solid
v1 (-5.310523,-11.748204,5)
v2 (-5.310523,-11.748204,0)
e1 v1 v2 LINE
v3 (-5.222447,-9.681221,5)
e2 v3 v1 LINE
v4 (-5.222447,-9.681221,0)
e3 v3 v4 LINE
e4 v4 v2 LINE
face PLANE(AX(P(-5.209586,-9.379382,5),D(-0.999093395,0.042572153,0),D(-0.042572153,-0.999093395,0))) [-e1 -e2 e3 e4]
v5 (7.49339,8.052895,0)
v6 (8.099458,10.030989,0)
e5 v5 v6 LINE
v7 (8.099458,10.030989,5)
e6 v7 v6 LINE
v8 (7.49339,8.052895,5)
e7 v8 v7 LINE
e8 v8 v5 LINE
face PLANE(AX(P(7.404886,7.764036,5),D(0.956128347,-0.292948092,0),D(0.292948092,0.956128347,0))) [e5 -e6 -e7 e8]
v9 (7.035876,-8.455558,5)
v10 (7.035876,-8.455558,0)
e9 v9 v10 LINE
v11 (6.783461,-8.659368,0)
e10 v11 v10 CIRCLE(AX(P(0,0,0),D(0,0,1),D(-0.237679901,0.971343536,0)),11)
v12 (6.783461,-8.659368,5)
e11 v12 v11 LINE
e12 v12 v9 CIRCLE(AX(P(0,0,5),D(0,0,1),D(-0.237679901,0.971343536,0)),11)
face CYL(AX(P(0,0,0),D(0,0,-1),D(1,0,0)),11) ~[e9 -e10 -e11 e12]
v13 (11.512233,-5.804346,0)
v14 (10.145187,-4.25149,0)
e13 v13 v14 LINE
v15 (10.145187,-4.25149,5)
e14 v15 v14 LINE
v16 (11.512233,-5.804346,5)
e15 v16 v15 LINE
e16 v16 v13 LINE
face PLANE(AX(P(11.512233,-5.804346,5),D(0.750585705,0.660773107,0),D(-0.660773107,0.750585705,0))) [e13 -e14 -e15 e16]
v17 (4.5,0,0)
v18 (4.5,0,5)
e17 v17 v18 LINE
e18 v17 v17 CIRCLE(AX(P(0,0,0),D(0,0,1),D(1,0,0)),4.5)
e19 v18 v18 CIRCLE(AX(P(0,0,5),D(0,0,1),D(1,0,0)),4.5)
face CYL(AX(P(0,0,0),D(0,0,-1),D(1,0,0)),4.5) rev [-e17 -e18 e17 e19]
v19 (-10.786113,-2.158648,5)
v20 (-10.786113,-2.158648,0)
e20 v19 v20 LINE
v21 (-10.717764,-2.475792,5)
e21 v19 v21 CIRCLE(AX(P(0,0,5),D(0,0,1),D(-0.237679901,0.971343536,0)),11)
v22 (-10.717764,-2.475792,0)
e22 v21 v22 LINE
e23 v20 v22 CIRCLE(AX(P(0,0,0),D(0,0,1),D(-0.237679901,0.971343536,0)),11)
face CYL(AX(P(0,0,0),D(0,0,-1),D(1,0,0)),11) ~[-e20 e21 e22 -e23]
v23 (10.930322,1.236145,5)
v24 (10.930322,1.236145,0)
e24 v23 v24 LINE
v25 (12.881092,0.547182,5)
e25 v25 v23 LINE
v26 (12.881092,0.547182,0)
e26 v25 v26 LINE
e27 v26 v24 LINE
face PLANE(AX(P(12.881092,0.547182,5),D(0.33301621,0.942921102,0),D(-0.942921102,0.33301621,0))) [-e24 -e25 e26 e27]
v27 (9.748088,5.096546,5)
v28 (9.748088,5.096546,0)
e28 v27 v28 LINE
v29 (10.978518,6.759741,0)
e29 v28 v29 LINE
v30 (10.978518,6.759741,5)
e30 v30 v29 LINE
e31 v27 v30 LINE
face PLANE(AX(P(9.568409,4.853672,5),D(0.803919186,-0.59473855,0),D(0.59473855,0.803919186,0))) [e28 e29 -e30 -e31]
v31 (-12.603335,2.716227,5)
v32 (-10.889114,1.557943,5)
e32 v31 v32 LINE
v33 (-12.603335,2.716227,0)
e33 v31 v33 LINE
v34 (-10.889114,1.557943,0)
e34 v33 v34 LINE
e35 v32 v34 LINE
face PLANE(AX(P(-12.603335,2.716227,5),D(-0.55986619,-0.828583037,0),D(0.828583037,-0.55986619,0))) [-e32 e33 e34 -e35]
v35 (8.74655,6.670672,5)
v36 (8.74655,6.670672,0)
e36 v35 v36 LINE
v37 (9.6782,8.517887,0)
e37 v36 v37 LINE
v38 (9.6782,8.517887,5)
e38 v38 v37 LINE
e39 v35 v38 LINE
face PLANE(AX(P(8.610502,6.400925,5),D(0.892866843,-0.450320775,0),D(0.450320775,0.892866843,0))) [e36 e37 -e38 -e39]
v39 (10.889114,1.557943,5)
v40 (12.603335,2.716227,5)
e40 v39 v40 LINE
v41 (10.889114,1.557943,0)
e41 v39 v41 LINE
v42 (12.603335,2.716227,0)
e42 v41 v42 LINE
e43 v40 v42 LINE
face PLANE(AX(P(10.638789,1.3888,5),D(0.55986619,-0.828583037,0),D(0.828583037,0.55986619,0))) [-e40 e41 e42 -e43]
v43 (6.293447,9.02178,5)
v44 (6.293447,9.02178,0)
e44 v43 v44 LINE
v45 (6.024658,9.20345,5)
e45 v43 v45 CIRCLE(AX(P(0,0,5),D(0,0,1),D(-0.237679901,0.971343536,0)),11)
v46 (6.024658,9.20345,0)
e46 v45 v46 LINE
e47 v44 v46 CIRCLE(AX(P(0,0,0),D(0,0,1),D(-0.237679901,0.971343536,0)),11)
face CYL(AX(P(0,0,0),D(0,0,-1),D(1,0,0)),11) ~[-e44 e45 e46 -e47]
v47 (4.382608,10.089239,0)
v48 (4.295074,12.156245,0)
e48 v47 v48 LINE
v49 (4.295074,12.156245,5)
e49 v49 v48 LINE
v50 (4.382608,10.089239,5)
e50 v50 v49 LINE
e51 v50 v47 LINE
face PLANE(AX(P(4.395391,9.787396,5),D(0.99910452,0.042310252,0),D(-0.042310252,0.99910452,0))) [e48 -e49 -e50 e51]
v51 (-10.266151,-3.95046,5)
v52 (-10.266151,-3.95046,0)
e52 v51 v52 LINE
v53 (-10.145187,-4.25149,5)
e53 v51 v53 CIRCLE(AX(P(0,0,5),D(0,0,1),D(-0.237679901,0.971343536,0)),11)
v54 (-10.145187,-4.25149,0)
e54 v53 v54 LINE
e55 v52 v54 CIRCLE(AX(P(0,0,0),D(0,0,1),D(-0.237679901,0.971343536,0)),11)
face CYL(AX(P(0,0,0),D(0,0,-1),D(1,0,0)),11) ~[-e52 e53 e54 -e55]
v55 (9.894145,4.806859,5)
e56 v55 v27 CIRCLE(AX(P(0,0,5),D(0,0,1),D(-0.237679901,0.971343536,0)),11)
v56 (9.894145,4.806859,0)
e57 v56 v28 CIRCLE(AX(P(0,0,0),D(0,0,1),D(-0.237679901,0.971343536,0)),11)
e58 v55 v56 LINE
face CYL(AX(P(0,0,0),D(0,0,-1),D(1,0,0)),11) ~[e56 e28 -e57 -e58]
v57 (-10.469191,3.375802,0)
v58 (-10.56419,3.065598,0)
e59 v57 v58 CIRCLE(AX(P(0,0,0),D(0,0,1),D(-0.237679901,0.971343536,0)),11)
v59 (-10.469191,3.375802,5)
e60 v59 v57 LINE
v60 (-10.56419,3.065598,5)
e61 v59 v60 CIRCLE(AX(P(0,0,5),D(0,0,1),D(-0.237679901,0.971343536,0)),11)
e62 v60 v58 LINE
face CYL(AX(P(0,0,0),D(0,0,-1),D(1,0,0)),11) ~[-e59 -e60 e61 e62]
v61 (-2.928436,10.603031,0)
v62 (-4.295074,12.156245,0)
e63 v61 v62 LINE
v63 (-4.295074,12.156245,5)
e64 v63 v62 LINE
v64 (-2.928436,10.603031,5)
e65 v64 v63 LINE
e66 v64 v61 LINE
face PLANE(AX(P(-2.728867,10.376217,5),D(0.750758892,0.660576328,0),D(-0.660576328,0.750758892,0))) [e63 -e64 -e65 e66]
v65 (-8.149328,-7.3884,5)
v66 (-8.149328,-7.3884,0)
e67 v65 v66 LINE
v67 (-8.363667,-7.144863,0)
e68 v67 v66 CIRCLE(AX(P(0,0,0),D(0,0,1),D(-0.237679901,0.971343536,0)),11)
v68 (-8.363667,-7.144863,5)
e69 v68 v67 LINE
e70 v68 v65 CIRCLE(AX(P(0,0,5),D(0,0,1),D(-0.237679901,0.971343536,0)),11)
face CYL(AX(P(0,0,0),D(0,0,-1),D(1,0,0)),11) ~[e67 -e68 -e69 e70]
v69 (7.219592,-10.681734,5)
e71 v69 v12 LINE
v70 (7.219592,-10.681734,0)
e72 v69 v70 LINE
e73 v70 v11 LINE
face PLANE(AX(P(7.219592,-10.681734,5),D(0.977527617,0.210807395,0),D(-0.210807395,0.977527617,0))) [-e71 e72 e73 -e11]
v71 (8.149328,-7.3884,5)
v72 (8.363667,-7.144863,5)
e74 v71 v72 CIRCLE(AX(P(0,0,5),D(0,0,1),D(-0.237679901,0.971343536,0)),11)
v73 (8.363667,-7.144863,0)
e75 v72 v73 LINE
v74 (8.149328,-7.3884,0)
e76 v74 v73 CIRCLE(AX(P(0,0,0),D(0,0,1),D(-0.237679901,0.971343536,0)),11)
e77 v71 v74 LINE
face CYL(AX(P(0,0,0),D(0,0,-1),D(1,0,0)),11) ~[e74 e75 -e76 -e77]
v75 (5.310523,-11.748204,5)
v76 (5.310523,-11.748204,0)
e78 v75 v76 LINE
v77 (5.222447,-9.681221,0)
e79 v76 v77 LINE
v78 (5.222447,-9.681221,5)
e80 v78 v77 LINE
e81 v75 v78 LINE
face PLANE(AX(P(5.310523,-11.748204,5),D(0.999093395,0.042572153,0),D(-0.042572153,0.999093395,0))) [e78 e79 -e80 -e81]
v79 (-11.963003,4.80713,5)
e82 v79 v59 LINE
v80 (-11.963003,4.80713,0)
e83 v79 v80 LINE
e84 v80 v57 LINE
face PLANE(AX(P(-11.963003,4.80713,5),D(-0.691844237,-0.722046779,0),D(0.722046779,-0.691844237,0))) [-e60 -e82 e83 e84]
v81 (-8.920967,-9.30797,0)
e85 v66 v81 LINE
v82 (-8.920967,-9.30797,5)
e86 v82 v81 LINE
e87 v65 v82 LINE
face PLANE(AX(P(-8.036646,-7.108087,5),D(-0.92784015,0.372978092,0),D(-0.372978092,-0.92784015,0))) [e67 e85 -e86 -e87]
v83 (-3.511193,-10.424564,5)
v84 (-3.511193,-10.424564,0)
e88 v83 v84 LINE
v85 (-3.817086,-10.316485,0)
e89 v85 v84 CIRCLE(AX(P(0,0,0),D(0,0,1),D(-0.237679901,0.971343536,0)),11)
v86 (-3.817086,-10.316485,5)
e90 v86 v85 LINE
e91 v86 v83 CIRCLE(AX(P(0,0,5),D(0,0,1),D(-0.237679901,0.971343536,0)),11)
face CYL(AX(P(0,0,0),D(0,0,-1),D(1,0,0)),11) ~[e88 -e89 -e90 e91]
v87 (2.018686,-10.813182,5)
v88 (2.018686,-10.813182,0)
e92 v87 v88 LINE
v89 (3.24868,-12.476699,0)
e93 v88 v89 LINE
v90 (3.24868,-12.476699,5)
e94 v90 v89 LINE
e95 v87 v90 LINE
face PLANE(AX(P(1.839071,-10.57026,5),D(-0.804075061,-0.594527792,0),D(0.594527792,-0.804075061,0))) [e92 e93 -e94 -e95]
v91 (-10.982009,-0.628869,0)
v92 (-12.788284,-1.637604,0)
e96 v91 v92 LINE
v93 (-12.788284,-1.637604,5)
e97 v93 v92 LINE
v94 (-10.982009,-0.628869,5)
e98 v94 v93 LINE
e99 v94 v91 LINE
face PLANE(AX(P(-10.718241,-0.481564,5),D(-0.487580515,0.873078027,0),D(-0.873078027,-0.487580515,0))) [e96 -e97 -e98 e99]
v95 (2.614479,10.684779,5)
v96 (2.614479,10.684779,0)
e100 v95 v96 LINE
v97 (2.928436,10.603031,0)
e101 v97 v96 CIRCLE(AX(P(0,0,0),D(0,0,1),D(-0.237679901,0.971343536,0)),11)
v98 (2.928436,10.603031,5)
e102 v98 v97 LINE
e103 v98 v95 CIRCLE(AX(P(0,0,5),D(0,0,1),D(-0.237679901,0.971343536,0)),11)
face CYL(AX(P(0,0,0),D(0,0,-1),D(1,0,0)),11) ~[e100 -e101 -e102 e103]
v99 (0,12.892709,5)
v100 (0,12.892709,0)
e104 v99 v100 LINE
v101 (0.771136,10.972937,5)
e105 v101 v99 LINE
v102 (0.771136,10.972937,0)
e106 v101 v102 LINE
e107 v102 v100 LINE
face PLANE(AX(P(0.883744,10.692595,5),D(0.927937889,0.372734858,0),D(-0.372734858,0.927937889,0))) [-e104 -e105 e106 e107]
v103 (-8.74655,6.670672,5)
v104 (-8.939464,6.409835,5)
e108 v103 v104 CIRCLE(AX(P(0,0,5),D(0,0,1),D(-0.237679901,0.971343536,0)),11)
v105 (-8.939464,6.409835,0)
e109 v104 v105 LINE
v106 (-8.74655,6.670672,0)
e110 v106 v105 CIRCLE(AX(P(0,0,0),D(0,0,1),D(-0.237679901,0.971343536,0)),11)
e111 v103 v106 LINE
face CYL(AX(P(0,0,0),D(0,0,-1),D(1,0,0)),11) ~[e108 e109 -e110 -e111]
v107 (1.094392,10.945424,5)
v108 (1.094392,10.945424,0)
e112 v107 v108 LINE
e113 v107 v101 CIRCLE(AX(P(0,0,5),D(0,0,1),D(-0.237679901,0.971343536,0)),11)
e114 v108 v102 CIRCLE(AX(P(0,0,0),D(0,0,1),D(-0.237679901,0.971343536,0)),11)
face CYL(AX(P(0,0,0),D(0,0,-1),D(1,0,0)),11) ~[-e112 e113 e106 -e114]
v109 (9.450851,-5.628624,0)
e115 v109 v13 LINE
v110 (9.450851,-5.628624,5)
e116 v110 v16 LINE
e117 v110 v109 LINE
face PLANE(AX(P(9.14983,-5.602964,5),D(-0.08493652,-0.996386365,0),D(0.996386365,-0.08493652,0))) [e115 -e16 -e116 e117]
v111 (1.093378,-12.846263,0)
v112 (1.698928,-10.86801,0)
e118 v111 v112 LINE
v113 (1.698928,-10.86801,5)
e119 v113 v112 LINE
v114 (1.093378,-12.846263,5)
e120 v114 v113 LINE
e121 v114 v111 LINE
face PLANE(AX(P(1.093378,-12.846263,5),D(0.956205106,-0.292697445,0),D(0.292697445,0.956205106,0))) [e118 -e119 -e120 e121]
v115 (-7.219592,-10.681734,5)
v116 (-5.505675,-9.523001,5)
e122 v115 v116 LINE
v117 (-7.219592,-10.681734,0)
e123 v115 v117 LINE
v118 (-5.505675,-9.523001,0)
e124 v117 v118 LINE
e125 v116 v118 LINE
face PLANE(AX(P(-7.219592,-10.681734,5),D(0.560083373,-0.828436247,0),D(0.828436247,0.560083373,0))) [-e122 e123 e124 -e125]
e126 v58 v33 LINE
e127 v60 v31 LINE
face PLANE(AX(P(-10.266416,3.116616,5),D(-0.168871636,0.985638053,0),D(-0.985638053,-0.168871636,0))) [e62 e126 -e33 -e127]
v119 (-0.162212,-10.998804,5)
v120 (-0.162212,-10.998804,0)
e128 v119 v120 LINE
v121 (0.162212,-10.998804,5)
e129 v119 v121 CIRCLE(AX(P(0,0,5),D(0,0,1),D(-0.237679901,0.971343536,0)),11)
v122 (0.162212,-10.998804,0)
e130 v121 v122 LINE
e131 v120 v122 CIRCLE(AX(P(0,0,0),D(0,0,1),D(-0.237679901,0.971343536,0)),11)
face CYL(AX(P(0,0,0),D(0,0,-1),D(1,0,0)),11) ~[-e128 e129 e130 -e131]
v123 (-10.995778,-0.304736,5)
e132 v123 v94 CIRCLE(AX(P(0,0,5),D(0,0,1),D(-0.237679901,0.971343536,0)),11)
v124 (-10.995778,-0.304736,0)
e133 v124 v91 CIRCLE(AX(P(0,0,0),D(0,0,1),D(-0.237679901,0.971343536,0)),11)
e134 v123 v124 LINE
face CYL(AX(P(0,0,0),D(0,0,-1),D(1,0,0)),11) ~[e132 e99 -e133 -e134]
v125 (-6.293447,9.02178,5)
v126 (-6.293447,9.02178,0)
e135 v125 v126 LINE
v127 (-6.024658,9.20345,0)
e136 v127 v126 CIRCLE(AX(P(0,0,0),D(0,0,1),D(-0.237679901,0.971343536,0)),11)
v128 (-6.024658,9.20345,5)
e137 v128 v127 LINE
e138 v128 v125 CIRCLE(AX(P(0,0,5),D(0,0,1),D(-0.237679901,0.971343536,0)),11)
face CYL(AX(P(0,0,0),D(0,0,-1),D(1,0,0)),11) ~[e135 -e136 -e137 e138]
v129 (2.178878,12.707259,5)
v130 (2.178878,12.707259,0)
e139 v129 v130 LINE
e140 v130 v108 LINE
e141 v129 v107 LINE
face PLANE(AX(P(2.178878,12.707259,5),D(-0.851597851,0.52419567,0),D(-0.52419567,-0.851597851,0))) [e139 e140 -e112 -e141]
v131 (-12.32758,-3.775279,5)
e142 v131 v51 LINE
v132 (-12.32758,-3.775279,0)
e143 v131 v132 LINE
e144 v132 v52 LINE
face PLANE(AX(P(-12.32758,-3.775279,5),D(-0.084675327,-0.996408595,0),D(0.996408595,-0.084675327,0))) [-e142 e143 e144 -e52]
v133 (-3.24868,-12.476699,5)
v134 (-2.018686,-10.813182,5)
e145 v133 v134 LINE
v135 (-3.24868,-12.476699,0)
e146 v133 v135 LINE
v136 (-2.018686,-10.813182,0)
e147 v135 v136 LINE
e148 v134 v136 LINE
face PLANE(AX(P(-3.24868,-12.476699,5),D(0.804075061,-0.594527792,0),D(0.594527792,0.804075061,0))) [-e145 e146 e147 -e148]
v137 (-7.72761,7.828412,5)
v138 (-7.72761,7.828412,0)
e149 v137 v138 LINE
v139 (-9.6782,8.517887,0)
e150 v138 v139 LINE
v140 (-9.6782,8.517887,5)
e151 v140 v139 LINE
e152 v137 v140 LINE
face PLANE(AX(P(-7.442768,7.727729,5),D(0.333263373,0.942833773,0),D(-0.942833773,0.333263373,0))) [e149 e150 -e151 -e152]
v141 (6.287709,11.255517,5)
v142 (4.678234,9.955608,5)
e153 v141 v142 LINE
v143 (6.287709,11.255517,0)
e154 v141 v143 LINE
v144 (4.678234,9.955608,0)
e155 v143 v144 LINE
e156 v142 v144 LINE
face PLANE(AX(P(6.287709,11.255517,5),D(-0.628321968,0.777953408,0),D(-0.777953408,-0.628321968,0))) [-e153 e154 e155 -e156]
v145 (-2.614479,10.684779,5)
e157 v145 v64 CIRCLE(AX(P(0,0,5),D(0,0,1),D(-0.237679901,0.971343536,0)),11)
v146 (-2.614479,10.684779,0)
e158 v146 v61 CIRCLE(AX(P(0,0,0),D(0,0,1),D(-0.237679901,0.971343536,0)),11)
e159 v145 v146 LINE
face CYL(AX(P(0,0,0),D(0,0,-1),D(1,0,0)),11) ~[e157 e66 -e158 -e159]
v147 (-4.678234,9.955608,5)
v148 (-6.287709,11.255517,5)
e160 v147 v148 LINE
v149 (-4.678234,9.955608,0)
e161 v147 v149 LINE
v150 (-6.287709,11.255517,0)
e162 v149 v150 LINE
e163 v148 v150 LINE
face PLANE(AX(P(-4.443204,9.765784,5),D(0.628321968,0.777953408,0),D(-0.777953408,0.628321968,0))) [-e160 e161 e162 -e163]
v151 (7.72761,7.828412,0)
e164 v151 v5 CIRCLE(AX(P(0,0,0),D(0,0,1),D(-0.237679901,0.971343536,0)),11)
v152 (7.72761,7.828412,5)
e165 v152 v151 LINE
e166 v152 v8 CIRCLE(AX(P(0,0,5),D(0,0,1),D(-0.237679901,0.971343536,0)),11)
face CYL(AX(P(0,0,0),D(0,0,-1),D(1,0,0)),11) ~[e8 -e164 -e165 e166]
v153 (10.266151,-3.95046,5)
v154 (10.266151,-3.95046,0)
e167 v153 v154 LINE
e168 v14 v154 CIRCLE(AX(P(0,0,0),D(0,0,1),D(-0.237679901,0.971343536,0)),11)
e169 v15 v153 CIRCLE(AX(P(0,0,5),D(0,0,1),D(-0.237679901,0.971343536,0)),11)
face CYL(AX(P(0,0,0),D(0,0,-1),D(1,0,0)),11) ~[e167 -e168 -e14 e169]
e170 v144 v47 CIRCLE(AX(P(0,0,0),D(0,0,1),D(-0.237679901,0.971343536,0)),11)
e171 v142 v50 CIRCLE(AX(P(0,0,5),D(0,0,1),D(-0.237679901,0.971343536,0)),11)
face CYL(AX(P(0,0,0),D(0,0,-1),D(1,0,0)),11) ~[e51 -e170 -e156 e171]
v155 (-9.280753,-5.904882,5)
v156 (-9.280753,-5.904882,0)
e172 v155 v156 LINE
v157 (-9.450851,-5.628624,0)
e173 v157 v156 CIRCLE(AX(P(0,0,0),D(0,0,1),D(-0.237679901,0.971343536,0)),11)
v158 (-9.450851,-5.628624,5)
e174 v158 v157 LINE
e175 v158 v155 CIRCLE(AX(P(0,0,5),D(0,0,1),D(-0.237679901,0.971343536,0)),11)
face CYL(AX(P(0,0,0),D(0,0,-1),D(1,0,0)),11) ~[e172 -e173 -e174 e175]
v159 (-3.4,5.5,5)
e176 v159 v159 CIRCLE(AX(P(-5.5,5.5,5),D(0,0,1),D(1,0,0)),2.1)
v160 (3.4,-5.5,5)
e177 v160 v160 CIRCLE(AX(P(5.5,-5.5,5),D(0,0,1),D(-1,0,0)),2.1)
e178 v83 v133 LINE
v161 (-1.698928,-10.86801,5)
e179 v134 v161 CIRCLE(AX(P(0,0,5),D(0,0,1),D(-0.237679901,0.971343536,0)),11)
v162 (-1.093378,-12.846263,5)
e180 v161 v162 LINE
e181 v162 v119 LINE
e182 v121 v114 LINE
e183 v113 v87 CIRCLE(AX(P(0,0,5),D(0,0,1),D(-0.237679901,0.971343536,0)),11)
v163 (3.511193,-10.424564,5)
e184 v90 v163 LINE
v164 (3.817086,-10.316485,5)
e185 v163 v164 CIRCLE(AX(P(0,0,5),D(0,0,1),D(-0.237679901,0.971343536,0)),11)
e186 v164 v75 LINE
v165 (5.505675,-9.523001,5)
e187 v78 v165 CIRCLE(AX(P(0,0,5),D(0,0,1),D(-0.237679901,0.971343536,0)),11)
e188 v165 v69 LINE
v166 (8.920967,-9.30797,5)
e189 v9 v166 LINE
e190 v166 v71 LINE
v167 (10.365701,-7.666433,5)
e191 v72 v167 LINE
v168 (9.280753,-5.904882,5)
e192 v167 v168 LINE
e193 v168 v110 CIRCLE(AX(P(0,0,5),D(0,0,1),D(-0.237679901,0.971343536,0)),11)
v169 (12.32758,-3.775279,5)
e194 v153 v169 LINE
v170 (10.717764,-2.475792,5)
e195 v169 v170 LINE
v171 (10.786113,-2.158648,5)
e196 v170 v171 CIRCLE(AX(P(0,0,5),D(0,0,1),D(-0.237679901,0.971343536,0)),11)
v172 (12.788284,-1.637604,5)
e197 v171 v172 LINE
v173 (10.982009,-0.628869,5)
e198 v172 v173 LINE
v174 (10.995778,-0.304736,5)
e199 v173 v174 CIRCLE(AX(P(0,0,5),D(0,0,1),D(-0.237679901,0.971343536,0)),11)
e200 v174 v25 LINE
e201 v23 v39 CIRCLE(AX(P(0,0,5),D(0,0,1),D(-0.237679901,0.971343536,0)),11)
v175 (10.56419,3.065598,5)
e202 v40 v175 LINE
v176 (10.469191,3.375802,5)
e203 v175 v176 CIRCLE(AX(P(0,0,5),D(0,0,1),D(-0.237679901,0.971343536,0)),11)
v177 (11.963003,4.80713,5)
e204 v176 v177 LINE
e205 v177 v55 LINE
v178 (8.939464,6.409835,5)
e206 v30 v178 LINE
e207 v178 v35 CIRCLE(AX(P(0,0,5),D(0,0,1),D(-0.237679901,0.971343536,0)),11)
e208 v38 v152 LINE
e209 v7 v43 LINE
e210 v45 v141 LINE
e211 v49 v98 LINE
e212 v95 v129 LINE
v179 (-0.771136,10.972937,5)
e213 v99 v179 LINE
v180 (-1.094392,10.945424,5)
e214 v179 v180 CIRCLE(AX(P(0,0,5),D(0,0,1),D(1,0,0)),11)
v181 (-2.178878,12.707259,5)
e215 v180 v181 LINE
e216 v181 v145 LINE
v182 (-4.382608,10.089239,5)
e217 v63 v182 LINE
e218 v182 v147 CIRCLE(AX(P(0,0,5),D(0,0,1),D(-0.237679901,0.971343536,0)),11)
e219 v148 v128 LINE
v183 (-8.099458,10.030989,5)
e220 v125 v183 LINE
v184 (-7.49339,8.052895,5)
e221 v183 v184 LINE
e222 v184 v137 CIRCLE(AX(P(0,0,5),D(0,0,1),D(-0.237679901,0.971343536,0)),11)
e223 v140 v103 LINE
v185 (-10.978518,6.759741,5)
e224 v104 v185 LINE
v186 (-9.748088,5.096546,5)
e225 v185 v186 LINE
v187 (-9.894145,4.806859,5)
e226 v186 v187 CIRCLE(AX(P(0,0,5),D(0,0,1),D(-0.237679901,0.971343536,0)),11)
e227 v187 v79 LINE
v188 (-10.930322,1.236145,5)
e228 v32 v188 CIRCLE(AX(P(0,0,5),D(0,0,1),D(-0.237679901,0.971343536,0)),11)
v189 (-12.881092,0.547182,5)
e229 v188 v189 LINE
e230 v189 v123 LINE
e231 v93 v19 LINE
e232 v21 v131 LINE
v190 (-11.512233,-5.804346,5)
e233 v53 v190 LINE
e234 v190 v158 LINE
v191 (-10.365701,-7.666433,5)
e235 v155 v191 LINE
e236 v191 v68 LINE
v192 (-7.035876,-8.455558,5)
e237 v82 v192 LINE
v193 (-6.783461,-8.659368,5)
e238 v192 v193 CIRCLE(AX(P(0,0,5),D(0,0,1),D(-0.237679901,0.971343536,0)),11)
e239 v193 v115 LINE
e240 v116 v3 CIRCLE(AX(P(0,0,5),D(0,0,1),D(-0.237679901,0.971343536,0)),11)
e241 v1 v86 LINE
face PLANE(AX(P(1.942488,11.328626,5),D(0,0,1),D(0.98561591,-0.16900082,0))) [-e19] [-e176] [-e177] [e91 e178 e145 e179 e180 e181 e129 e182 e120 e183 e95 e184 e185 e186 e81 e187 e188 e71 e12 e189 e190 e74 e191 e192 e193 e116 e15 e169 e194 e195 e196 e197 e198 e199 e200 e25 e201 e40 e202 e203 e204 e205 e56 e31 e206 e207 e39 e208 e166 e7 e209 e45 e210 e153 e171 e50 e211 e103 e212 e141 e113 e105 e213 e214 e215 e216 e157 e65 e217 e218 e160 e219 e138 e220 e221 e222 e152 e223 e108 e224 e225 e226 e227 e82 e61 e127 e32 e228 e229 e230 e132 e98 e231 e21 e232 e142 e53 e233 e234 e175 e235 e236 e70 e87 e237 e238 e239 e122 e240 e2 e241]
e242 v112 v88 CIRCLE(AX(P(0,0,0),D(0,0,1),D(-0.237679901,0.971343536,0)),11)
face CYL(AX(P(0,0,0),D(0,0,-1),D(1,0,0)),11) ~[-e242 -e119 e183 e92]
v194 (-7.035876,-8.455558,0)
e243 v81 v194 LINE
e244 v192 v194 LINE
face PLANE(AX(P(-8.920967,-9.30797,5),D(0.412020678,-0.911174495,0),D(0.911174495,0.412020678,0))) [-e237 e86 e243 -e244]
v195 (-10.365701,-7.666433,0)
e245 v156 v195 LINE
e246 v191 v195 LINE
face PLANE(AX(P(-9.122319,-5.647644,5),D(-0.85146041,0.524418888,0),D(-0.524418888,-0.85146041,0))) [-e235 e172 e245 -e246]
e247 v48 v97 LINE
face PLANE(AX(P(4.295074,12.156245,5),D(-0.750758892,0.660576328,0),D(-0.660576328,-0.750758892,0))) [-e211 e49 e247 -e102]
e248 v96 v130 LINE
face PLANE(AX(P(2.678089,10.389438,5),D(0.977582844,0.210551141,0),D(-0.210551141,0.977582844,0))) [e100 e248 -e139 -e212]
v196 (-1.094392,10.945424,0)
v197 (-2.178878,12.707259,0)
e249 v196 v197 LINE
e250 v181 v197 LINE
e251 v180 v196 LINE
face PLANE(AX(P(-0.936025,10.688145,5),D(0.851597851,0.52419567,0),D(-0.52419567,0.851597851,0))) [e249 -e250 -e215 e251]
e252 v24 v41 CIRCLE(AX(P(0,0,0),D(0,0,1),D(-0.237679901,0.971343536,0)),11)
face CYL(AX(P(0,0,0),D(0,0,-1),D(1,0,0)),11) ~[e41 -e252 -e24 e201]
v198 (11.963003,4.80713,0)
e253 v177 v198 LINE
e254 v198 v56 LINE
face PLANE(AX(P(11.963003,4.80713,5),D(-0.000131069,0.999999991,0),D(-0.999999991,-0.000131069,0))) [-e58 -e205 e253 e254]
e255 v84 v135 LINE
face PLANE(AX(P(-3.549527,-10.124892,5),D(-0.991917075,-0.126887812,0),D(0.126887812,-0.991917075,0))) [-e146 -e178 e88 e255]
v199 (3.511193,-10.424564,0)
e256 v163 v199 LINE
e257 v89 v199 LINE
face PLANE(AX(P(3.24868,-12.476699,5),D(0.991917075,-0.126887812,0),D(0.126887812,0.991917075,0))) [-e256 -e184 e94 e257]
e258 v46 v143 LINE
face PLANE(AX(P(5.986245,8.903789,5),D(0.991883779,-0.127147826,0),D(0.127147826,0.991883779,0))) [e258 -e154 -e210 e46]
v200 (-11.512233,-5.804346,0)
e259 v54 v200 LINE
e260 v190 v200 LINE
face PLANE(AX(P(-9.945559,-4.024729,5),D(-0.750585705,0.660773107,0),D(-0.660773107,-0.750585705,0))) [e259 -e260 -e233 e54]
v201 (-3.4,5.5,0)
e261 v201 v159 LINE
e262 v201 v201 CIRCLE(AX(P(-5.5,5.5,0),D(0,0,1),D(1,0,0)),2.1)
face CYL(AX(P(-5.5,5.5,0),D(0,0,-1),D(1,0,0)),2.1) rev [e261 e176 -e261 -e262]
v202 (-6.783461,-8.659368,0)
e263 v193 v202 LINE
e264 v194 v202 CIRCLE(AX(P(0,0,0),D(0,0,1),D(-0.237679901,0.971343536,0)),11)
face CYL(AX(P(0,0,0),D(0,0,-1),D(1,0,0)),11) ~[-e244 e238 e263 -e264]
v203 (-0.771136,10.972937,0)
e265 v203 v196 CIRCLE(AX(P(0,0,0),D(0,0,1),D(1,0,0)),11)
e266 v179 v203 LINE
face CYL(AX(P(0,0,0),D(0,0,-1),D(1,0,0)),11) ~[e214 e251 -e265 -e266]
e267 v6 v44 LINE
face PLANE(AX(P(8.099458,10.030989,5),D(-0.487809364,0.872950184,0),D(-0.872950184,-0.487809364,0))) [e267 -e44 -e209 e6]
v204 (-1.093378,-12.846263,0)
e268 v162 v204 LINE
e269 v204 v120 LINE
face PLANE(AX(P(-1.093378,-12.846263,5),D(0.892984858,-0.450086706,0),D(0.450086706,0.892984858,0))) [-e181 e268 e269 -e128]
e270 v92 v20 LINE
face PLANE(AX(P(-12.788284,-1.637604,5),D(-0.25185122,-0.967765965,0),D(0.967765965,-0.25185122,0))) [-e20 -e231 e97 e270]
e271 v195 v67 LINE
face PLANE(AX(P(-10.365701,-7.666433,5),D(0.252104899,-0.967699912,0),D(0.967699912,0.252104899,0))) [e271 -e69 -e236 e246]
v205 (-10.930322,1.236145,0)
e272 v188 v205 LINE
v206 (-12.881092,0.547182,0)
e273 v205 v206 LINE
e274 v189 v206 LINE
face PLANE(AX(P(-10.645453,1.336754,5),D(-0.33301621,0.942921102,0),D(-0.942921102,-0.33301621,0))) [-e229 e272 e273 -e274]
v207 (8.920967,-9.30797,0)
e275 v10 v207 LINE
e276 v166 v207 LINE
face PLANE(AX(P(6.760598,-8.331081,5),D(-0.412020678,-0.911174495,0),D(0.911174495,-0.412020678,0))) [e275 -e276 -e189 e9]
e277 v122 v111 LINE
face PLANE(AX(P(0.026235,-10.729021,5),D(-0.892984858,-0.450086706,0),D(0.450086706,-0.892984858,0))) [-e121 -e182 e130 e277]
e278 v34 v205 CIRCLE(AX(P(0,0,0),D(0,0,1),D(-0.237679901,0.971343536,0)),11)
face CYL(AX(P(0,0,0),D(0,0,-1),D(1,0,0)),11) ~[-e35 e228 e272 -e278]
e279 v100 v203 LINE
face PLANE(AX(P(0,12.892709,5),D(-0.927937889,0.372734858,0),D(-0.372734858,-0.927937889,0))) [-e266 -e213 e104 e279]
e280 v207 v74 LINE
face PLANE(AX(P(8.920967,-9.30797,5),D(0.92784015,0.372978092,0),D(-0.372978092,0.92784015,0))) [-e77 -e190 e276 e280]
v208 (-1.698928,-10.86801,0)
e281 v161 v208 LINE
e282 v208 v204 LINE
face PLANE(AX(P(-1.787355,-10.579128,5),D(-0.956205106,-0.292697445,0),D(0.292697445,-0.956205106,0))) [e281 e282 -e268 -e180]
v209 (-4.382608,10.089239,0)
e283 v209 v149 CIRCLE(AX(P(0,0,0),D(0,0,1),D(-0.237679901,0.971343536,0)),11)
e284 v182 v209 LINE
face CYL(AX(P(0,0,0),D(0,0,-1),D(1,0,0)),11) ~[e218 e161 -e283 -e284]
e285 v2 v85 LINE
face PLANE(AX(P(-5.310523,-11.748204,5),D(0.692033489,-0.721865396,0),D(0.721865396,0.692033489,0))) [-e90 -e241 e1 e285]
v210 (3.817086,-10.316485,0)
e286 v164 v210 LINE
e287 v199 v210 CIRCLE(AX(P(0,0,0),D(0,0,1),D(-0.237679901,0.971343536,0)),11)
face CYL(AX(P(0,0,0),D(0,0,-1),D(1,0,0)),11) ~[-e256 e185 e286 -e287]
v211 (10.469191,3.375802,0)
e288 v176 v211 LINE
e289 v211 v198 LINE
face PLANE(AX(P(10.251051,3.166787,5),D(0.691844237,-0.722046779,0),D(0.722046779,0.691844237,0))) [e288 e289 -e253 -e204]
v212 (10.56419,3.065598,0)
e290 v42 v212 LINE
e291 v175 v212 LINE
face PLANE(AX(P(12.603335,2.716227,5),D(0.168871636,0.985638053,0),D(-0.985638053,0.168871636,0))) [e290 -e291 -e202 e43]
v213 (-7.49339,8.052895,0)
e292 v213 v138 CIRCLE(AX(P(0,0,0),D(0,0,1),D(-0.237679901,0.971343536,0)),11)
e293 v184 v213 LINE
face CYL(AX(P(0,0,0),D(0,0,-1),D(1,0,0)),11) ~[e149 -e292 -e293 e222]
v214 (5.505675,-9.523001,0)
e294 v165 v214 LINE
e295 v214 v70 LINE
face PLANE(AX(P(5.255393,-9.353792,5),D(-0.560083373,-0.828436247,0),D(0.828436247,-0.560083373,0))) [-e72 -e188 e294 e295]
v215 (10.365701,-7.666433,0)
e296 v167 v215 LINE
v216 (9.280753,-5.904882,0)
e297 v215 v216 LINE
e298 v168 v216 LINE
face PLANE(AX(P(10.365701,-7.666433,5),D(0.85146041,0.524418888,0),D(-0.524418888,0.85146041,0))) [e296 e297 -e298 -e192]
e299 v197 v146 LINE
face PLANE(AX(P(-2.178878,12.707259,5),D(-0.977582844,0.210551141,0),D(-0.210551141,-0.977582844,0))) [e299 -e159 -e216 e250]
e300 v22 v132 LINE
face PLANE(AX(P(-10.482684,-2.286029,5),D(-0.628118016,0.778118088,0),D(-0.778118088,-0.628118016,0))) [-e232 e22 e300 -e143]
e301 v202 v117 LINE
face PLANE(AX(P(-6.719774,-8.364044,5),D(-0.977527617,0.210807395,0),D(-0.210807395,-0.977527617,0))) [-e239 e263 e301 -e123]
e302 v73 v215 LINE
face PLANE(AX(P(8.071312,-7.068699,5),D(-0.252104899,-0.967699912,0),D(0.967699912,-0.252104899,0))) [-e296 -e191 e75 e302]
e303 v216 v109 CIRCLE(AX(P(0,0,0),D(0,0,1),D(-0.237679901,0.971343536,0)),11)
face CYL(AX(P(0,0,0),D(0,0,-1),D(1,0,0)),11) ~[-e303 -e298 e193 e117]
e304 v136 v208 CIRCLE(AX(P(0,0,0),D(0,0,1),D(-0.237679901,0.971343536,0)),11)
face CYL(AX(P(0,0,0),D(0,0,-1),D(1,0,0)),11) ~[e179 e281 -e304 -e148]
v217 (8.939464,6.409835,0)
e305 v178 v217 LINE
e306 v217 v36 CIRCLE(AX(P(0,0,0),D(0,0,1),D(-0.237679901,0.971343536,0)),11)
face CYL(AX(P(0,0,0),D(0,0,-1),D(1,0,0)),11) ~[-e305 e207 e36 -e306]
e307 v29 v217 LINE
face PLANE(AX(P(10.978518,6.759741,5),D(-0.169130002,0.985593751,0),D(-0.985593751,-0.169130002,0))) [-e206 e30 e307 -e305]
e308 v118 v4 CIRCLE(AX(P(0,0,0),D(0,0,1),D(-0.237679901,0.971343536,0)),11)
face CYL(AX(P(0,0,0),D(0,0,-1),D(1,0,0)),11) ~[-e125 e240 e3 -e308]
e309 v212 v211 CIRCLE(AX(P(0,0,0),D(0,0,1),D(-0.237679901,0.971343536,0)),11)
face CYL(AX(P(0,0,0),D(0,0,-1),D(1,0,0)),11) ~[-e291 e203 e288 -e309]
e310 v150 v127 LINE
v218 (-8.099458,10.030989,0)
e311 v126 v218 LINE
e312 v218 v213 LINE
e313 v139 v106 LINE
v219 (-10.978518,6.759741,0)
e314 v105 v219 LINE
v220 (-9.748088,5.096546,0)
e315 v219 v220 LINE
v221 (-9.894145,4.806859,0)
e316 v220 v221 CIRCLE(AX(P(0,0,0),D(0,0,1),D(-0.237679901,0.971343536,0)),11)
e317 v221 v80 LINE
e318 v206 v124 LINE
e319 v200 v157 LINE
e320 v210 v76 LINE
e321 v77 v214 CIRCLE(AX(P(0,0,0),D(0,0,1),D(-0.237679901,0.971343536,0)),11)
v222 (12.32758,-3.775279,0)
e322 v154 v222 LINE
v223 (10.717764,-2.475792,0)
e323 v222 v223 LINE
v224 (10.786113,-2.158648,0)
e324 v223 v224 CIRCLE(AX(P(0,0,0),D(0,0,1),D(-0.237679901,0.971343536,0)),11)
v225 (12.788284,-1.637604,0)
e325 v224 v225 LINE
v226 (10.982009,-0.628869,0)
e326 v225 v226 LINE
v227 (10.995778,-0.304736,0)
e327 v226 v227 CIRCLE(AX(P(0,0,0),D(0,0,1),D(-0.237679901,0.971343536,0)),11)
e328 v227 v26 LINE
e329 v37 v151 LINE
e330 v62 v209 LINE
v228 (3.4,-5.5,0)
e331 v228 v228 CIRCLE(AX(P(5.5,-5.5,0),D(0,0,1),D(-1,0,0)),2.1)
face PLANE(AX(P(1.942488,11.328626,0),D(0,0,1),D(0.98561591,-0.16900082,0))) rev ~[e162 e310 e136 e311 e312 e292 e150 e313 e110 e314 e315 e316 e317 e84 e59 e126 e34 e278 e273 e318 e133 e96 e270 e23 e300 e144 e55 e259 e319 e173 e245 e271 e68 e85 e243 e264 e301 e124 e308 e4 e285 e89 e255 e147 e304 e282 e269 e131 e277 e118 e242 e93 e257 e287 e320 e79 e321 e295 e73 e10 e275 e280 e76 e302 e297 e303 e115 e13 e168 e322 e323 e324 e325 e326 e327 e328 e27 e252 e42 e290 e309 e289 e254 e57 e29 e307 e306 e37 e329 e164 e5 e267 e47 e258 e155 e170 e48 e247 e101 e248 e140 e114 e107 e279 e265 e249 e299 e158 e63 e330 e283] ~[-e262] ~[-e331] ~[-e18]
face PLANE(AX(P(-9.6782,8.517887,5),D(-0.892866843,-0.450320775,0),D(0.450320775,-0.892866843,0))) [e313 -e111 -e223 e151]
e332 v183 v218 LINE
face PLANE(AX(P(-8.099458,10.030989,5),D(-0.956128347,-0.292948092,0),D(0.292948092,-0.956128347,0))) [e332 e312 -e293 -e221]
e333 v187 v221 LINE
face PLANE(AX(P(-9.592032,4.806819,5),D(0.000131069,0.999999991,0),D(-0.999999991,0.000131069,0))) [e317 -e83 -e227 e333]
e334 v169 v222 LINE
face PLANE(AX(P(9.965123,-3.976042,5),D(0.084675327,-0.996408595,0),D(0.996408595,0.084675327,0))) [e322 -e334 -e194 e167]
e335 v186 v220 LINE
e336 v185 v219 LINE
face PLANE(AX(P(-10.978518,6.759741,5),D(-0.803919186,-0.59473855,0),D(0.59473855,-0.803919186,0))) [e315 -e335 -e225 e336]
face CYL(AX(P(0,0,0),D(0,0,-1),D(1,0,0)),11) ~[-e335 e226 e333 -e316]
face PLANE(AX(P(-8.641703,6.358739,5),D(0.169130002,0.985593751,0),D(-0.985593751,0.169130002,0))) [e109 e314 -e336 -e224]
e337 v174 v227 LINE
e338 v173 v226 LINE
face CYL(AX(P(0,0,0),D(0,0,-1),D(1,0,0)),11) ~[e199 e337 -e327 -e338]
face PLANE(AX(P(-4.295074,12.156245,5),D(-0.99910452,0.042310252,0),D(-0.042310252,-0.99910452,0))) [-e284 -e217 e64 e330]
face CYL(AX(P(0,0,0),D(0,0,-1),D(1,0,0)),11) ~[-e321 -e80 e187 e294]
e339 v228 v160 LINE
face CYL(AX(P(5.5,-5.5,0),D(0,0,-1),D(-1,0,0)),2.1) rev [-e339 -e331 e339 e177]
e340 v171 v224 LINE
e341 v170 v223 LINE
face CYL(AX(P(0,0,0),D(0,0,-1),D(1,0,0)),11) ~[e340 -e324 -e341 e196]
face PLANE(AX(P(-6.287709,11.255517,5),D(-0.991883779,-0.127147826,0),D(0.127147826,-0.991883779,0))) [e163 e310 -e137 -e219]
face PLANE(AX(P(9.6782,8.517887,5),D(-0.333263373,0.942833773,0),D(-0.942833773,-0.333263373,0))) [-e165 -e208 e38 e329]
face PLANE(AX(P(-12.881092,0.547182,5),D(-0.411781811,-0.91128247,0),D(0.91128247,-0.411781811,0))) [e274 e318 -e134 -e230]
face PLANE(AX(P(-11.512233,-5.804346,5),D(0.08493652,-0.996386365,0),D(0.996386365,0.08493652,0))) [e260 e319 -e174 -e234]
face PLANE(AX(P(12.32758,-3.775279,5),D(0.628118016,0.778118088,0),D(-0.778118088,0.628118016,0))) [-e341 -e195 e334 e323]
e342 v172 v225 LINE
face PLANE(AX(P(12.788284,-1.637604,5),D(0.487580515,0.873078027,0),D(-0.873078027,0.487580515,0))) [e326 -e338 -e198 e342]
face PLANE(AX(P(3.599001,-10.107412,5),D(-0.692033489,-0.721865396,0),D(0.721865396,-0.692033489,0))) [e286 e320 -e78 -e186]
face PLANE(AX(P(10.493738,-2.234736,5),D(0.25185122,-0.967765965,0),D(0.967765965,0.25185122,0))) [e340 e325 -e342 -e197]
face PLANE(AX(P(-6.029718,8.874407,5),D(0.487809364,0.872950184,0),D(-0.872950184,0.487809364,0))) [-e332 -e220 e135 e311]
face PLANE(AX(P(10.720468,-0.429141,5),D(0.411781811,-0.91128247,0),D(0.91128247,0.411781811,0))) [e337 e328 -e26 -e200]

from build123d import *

# Parameters (mm, degrees)
ESQUISSE1_R                  = 11
ESQUISSE1_R_2                = 4.5
ESQUISSE1_R_3                = 2.1
BOSS_EXTRU_1_DEPTH           = 5
BOSS_EXTRU_2_DEPTH           = 5
R_P_TITION_CIRCULAIRE1_COUNT = 37


with BuildPart() as part:
    # Esquisse1 → Boss.-Extru.1 (new body)
    with BuildSketch(Plane.XY):
        Circle(ESQUISSE1_R)
        Circle(ESQUISSE1_R_2, mode=Mode.SUBTRACT)
        with Locations((-5.5, 5.5)):
            Circle(ESQUISSE1_R_3, mode=Mode.SUBTRACT)
        with Locations(Location((5.5, -5.5, 0), (0, 0, 180))):
            Circle(ESQUISSE1_R_3, mode=Mode.SUBTRACT)
    extrude(amount=BOSS_EXTRU_1_DEPTH)

    # Esquisse2 → Boss.-Extru.2 (add)
    with BuildSketch(Plane.XY.offset(5)):
        Polygon((0, 12.892709197), (-0.883743736, 10.692594879), (0.883743736, 10.692594879), align=None)
    boss_extru_2 = extrude(amount=-BOSS_EXTRU_2_DEPTH)

    # Répétition circulaire1: Boss.-Extru.2 ×37 about axis
    r_p_tition_circulaire1_axis = Axis((0, 0, 0), (0, 0, 1))
    for i in range(1, R_P_TITION_CIRCULAIRE1_COUNT):
        add(boss_extru_2.rotate(r_p_tition_circulaire1_axis, i * 360 / R_P_TITION_CIRCULAIRE1_COUNT))


solid = part.part
